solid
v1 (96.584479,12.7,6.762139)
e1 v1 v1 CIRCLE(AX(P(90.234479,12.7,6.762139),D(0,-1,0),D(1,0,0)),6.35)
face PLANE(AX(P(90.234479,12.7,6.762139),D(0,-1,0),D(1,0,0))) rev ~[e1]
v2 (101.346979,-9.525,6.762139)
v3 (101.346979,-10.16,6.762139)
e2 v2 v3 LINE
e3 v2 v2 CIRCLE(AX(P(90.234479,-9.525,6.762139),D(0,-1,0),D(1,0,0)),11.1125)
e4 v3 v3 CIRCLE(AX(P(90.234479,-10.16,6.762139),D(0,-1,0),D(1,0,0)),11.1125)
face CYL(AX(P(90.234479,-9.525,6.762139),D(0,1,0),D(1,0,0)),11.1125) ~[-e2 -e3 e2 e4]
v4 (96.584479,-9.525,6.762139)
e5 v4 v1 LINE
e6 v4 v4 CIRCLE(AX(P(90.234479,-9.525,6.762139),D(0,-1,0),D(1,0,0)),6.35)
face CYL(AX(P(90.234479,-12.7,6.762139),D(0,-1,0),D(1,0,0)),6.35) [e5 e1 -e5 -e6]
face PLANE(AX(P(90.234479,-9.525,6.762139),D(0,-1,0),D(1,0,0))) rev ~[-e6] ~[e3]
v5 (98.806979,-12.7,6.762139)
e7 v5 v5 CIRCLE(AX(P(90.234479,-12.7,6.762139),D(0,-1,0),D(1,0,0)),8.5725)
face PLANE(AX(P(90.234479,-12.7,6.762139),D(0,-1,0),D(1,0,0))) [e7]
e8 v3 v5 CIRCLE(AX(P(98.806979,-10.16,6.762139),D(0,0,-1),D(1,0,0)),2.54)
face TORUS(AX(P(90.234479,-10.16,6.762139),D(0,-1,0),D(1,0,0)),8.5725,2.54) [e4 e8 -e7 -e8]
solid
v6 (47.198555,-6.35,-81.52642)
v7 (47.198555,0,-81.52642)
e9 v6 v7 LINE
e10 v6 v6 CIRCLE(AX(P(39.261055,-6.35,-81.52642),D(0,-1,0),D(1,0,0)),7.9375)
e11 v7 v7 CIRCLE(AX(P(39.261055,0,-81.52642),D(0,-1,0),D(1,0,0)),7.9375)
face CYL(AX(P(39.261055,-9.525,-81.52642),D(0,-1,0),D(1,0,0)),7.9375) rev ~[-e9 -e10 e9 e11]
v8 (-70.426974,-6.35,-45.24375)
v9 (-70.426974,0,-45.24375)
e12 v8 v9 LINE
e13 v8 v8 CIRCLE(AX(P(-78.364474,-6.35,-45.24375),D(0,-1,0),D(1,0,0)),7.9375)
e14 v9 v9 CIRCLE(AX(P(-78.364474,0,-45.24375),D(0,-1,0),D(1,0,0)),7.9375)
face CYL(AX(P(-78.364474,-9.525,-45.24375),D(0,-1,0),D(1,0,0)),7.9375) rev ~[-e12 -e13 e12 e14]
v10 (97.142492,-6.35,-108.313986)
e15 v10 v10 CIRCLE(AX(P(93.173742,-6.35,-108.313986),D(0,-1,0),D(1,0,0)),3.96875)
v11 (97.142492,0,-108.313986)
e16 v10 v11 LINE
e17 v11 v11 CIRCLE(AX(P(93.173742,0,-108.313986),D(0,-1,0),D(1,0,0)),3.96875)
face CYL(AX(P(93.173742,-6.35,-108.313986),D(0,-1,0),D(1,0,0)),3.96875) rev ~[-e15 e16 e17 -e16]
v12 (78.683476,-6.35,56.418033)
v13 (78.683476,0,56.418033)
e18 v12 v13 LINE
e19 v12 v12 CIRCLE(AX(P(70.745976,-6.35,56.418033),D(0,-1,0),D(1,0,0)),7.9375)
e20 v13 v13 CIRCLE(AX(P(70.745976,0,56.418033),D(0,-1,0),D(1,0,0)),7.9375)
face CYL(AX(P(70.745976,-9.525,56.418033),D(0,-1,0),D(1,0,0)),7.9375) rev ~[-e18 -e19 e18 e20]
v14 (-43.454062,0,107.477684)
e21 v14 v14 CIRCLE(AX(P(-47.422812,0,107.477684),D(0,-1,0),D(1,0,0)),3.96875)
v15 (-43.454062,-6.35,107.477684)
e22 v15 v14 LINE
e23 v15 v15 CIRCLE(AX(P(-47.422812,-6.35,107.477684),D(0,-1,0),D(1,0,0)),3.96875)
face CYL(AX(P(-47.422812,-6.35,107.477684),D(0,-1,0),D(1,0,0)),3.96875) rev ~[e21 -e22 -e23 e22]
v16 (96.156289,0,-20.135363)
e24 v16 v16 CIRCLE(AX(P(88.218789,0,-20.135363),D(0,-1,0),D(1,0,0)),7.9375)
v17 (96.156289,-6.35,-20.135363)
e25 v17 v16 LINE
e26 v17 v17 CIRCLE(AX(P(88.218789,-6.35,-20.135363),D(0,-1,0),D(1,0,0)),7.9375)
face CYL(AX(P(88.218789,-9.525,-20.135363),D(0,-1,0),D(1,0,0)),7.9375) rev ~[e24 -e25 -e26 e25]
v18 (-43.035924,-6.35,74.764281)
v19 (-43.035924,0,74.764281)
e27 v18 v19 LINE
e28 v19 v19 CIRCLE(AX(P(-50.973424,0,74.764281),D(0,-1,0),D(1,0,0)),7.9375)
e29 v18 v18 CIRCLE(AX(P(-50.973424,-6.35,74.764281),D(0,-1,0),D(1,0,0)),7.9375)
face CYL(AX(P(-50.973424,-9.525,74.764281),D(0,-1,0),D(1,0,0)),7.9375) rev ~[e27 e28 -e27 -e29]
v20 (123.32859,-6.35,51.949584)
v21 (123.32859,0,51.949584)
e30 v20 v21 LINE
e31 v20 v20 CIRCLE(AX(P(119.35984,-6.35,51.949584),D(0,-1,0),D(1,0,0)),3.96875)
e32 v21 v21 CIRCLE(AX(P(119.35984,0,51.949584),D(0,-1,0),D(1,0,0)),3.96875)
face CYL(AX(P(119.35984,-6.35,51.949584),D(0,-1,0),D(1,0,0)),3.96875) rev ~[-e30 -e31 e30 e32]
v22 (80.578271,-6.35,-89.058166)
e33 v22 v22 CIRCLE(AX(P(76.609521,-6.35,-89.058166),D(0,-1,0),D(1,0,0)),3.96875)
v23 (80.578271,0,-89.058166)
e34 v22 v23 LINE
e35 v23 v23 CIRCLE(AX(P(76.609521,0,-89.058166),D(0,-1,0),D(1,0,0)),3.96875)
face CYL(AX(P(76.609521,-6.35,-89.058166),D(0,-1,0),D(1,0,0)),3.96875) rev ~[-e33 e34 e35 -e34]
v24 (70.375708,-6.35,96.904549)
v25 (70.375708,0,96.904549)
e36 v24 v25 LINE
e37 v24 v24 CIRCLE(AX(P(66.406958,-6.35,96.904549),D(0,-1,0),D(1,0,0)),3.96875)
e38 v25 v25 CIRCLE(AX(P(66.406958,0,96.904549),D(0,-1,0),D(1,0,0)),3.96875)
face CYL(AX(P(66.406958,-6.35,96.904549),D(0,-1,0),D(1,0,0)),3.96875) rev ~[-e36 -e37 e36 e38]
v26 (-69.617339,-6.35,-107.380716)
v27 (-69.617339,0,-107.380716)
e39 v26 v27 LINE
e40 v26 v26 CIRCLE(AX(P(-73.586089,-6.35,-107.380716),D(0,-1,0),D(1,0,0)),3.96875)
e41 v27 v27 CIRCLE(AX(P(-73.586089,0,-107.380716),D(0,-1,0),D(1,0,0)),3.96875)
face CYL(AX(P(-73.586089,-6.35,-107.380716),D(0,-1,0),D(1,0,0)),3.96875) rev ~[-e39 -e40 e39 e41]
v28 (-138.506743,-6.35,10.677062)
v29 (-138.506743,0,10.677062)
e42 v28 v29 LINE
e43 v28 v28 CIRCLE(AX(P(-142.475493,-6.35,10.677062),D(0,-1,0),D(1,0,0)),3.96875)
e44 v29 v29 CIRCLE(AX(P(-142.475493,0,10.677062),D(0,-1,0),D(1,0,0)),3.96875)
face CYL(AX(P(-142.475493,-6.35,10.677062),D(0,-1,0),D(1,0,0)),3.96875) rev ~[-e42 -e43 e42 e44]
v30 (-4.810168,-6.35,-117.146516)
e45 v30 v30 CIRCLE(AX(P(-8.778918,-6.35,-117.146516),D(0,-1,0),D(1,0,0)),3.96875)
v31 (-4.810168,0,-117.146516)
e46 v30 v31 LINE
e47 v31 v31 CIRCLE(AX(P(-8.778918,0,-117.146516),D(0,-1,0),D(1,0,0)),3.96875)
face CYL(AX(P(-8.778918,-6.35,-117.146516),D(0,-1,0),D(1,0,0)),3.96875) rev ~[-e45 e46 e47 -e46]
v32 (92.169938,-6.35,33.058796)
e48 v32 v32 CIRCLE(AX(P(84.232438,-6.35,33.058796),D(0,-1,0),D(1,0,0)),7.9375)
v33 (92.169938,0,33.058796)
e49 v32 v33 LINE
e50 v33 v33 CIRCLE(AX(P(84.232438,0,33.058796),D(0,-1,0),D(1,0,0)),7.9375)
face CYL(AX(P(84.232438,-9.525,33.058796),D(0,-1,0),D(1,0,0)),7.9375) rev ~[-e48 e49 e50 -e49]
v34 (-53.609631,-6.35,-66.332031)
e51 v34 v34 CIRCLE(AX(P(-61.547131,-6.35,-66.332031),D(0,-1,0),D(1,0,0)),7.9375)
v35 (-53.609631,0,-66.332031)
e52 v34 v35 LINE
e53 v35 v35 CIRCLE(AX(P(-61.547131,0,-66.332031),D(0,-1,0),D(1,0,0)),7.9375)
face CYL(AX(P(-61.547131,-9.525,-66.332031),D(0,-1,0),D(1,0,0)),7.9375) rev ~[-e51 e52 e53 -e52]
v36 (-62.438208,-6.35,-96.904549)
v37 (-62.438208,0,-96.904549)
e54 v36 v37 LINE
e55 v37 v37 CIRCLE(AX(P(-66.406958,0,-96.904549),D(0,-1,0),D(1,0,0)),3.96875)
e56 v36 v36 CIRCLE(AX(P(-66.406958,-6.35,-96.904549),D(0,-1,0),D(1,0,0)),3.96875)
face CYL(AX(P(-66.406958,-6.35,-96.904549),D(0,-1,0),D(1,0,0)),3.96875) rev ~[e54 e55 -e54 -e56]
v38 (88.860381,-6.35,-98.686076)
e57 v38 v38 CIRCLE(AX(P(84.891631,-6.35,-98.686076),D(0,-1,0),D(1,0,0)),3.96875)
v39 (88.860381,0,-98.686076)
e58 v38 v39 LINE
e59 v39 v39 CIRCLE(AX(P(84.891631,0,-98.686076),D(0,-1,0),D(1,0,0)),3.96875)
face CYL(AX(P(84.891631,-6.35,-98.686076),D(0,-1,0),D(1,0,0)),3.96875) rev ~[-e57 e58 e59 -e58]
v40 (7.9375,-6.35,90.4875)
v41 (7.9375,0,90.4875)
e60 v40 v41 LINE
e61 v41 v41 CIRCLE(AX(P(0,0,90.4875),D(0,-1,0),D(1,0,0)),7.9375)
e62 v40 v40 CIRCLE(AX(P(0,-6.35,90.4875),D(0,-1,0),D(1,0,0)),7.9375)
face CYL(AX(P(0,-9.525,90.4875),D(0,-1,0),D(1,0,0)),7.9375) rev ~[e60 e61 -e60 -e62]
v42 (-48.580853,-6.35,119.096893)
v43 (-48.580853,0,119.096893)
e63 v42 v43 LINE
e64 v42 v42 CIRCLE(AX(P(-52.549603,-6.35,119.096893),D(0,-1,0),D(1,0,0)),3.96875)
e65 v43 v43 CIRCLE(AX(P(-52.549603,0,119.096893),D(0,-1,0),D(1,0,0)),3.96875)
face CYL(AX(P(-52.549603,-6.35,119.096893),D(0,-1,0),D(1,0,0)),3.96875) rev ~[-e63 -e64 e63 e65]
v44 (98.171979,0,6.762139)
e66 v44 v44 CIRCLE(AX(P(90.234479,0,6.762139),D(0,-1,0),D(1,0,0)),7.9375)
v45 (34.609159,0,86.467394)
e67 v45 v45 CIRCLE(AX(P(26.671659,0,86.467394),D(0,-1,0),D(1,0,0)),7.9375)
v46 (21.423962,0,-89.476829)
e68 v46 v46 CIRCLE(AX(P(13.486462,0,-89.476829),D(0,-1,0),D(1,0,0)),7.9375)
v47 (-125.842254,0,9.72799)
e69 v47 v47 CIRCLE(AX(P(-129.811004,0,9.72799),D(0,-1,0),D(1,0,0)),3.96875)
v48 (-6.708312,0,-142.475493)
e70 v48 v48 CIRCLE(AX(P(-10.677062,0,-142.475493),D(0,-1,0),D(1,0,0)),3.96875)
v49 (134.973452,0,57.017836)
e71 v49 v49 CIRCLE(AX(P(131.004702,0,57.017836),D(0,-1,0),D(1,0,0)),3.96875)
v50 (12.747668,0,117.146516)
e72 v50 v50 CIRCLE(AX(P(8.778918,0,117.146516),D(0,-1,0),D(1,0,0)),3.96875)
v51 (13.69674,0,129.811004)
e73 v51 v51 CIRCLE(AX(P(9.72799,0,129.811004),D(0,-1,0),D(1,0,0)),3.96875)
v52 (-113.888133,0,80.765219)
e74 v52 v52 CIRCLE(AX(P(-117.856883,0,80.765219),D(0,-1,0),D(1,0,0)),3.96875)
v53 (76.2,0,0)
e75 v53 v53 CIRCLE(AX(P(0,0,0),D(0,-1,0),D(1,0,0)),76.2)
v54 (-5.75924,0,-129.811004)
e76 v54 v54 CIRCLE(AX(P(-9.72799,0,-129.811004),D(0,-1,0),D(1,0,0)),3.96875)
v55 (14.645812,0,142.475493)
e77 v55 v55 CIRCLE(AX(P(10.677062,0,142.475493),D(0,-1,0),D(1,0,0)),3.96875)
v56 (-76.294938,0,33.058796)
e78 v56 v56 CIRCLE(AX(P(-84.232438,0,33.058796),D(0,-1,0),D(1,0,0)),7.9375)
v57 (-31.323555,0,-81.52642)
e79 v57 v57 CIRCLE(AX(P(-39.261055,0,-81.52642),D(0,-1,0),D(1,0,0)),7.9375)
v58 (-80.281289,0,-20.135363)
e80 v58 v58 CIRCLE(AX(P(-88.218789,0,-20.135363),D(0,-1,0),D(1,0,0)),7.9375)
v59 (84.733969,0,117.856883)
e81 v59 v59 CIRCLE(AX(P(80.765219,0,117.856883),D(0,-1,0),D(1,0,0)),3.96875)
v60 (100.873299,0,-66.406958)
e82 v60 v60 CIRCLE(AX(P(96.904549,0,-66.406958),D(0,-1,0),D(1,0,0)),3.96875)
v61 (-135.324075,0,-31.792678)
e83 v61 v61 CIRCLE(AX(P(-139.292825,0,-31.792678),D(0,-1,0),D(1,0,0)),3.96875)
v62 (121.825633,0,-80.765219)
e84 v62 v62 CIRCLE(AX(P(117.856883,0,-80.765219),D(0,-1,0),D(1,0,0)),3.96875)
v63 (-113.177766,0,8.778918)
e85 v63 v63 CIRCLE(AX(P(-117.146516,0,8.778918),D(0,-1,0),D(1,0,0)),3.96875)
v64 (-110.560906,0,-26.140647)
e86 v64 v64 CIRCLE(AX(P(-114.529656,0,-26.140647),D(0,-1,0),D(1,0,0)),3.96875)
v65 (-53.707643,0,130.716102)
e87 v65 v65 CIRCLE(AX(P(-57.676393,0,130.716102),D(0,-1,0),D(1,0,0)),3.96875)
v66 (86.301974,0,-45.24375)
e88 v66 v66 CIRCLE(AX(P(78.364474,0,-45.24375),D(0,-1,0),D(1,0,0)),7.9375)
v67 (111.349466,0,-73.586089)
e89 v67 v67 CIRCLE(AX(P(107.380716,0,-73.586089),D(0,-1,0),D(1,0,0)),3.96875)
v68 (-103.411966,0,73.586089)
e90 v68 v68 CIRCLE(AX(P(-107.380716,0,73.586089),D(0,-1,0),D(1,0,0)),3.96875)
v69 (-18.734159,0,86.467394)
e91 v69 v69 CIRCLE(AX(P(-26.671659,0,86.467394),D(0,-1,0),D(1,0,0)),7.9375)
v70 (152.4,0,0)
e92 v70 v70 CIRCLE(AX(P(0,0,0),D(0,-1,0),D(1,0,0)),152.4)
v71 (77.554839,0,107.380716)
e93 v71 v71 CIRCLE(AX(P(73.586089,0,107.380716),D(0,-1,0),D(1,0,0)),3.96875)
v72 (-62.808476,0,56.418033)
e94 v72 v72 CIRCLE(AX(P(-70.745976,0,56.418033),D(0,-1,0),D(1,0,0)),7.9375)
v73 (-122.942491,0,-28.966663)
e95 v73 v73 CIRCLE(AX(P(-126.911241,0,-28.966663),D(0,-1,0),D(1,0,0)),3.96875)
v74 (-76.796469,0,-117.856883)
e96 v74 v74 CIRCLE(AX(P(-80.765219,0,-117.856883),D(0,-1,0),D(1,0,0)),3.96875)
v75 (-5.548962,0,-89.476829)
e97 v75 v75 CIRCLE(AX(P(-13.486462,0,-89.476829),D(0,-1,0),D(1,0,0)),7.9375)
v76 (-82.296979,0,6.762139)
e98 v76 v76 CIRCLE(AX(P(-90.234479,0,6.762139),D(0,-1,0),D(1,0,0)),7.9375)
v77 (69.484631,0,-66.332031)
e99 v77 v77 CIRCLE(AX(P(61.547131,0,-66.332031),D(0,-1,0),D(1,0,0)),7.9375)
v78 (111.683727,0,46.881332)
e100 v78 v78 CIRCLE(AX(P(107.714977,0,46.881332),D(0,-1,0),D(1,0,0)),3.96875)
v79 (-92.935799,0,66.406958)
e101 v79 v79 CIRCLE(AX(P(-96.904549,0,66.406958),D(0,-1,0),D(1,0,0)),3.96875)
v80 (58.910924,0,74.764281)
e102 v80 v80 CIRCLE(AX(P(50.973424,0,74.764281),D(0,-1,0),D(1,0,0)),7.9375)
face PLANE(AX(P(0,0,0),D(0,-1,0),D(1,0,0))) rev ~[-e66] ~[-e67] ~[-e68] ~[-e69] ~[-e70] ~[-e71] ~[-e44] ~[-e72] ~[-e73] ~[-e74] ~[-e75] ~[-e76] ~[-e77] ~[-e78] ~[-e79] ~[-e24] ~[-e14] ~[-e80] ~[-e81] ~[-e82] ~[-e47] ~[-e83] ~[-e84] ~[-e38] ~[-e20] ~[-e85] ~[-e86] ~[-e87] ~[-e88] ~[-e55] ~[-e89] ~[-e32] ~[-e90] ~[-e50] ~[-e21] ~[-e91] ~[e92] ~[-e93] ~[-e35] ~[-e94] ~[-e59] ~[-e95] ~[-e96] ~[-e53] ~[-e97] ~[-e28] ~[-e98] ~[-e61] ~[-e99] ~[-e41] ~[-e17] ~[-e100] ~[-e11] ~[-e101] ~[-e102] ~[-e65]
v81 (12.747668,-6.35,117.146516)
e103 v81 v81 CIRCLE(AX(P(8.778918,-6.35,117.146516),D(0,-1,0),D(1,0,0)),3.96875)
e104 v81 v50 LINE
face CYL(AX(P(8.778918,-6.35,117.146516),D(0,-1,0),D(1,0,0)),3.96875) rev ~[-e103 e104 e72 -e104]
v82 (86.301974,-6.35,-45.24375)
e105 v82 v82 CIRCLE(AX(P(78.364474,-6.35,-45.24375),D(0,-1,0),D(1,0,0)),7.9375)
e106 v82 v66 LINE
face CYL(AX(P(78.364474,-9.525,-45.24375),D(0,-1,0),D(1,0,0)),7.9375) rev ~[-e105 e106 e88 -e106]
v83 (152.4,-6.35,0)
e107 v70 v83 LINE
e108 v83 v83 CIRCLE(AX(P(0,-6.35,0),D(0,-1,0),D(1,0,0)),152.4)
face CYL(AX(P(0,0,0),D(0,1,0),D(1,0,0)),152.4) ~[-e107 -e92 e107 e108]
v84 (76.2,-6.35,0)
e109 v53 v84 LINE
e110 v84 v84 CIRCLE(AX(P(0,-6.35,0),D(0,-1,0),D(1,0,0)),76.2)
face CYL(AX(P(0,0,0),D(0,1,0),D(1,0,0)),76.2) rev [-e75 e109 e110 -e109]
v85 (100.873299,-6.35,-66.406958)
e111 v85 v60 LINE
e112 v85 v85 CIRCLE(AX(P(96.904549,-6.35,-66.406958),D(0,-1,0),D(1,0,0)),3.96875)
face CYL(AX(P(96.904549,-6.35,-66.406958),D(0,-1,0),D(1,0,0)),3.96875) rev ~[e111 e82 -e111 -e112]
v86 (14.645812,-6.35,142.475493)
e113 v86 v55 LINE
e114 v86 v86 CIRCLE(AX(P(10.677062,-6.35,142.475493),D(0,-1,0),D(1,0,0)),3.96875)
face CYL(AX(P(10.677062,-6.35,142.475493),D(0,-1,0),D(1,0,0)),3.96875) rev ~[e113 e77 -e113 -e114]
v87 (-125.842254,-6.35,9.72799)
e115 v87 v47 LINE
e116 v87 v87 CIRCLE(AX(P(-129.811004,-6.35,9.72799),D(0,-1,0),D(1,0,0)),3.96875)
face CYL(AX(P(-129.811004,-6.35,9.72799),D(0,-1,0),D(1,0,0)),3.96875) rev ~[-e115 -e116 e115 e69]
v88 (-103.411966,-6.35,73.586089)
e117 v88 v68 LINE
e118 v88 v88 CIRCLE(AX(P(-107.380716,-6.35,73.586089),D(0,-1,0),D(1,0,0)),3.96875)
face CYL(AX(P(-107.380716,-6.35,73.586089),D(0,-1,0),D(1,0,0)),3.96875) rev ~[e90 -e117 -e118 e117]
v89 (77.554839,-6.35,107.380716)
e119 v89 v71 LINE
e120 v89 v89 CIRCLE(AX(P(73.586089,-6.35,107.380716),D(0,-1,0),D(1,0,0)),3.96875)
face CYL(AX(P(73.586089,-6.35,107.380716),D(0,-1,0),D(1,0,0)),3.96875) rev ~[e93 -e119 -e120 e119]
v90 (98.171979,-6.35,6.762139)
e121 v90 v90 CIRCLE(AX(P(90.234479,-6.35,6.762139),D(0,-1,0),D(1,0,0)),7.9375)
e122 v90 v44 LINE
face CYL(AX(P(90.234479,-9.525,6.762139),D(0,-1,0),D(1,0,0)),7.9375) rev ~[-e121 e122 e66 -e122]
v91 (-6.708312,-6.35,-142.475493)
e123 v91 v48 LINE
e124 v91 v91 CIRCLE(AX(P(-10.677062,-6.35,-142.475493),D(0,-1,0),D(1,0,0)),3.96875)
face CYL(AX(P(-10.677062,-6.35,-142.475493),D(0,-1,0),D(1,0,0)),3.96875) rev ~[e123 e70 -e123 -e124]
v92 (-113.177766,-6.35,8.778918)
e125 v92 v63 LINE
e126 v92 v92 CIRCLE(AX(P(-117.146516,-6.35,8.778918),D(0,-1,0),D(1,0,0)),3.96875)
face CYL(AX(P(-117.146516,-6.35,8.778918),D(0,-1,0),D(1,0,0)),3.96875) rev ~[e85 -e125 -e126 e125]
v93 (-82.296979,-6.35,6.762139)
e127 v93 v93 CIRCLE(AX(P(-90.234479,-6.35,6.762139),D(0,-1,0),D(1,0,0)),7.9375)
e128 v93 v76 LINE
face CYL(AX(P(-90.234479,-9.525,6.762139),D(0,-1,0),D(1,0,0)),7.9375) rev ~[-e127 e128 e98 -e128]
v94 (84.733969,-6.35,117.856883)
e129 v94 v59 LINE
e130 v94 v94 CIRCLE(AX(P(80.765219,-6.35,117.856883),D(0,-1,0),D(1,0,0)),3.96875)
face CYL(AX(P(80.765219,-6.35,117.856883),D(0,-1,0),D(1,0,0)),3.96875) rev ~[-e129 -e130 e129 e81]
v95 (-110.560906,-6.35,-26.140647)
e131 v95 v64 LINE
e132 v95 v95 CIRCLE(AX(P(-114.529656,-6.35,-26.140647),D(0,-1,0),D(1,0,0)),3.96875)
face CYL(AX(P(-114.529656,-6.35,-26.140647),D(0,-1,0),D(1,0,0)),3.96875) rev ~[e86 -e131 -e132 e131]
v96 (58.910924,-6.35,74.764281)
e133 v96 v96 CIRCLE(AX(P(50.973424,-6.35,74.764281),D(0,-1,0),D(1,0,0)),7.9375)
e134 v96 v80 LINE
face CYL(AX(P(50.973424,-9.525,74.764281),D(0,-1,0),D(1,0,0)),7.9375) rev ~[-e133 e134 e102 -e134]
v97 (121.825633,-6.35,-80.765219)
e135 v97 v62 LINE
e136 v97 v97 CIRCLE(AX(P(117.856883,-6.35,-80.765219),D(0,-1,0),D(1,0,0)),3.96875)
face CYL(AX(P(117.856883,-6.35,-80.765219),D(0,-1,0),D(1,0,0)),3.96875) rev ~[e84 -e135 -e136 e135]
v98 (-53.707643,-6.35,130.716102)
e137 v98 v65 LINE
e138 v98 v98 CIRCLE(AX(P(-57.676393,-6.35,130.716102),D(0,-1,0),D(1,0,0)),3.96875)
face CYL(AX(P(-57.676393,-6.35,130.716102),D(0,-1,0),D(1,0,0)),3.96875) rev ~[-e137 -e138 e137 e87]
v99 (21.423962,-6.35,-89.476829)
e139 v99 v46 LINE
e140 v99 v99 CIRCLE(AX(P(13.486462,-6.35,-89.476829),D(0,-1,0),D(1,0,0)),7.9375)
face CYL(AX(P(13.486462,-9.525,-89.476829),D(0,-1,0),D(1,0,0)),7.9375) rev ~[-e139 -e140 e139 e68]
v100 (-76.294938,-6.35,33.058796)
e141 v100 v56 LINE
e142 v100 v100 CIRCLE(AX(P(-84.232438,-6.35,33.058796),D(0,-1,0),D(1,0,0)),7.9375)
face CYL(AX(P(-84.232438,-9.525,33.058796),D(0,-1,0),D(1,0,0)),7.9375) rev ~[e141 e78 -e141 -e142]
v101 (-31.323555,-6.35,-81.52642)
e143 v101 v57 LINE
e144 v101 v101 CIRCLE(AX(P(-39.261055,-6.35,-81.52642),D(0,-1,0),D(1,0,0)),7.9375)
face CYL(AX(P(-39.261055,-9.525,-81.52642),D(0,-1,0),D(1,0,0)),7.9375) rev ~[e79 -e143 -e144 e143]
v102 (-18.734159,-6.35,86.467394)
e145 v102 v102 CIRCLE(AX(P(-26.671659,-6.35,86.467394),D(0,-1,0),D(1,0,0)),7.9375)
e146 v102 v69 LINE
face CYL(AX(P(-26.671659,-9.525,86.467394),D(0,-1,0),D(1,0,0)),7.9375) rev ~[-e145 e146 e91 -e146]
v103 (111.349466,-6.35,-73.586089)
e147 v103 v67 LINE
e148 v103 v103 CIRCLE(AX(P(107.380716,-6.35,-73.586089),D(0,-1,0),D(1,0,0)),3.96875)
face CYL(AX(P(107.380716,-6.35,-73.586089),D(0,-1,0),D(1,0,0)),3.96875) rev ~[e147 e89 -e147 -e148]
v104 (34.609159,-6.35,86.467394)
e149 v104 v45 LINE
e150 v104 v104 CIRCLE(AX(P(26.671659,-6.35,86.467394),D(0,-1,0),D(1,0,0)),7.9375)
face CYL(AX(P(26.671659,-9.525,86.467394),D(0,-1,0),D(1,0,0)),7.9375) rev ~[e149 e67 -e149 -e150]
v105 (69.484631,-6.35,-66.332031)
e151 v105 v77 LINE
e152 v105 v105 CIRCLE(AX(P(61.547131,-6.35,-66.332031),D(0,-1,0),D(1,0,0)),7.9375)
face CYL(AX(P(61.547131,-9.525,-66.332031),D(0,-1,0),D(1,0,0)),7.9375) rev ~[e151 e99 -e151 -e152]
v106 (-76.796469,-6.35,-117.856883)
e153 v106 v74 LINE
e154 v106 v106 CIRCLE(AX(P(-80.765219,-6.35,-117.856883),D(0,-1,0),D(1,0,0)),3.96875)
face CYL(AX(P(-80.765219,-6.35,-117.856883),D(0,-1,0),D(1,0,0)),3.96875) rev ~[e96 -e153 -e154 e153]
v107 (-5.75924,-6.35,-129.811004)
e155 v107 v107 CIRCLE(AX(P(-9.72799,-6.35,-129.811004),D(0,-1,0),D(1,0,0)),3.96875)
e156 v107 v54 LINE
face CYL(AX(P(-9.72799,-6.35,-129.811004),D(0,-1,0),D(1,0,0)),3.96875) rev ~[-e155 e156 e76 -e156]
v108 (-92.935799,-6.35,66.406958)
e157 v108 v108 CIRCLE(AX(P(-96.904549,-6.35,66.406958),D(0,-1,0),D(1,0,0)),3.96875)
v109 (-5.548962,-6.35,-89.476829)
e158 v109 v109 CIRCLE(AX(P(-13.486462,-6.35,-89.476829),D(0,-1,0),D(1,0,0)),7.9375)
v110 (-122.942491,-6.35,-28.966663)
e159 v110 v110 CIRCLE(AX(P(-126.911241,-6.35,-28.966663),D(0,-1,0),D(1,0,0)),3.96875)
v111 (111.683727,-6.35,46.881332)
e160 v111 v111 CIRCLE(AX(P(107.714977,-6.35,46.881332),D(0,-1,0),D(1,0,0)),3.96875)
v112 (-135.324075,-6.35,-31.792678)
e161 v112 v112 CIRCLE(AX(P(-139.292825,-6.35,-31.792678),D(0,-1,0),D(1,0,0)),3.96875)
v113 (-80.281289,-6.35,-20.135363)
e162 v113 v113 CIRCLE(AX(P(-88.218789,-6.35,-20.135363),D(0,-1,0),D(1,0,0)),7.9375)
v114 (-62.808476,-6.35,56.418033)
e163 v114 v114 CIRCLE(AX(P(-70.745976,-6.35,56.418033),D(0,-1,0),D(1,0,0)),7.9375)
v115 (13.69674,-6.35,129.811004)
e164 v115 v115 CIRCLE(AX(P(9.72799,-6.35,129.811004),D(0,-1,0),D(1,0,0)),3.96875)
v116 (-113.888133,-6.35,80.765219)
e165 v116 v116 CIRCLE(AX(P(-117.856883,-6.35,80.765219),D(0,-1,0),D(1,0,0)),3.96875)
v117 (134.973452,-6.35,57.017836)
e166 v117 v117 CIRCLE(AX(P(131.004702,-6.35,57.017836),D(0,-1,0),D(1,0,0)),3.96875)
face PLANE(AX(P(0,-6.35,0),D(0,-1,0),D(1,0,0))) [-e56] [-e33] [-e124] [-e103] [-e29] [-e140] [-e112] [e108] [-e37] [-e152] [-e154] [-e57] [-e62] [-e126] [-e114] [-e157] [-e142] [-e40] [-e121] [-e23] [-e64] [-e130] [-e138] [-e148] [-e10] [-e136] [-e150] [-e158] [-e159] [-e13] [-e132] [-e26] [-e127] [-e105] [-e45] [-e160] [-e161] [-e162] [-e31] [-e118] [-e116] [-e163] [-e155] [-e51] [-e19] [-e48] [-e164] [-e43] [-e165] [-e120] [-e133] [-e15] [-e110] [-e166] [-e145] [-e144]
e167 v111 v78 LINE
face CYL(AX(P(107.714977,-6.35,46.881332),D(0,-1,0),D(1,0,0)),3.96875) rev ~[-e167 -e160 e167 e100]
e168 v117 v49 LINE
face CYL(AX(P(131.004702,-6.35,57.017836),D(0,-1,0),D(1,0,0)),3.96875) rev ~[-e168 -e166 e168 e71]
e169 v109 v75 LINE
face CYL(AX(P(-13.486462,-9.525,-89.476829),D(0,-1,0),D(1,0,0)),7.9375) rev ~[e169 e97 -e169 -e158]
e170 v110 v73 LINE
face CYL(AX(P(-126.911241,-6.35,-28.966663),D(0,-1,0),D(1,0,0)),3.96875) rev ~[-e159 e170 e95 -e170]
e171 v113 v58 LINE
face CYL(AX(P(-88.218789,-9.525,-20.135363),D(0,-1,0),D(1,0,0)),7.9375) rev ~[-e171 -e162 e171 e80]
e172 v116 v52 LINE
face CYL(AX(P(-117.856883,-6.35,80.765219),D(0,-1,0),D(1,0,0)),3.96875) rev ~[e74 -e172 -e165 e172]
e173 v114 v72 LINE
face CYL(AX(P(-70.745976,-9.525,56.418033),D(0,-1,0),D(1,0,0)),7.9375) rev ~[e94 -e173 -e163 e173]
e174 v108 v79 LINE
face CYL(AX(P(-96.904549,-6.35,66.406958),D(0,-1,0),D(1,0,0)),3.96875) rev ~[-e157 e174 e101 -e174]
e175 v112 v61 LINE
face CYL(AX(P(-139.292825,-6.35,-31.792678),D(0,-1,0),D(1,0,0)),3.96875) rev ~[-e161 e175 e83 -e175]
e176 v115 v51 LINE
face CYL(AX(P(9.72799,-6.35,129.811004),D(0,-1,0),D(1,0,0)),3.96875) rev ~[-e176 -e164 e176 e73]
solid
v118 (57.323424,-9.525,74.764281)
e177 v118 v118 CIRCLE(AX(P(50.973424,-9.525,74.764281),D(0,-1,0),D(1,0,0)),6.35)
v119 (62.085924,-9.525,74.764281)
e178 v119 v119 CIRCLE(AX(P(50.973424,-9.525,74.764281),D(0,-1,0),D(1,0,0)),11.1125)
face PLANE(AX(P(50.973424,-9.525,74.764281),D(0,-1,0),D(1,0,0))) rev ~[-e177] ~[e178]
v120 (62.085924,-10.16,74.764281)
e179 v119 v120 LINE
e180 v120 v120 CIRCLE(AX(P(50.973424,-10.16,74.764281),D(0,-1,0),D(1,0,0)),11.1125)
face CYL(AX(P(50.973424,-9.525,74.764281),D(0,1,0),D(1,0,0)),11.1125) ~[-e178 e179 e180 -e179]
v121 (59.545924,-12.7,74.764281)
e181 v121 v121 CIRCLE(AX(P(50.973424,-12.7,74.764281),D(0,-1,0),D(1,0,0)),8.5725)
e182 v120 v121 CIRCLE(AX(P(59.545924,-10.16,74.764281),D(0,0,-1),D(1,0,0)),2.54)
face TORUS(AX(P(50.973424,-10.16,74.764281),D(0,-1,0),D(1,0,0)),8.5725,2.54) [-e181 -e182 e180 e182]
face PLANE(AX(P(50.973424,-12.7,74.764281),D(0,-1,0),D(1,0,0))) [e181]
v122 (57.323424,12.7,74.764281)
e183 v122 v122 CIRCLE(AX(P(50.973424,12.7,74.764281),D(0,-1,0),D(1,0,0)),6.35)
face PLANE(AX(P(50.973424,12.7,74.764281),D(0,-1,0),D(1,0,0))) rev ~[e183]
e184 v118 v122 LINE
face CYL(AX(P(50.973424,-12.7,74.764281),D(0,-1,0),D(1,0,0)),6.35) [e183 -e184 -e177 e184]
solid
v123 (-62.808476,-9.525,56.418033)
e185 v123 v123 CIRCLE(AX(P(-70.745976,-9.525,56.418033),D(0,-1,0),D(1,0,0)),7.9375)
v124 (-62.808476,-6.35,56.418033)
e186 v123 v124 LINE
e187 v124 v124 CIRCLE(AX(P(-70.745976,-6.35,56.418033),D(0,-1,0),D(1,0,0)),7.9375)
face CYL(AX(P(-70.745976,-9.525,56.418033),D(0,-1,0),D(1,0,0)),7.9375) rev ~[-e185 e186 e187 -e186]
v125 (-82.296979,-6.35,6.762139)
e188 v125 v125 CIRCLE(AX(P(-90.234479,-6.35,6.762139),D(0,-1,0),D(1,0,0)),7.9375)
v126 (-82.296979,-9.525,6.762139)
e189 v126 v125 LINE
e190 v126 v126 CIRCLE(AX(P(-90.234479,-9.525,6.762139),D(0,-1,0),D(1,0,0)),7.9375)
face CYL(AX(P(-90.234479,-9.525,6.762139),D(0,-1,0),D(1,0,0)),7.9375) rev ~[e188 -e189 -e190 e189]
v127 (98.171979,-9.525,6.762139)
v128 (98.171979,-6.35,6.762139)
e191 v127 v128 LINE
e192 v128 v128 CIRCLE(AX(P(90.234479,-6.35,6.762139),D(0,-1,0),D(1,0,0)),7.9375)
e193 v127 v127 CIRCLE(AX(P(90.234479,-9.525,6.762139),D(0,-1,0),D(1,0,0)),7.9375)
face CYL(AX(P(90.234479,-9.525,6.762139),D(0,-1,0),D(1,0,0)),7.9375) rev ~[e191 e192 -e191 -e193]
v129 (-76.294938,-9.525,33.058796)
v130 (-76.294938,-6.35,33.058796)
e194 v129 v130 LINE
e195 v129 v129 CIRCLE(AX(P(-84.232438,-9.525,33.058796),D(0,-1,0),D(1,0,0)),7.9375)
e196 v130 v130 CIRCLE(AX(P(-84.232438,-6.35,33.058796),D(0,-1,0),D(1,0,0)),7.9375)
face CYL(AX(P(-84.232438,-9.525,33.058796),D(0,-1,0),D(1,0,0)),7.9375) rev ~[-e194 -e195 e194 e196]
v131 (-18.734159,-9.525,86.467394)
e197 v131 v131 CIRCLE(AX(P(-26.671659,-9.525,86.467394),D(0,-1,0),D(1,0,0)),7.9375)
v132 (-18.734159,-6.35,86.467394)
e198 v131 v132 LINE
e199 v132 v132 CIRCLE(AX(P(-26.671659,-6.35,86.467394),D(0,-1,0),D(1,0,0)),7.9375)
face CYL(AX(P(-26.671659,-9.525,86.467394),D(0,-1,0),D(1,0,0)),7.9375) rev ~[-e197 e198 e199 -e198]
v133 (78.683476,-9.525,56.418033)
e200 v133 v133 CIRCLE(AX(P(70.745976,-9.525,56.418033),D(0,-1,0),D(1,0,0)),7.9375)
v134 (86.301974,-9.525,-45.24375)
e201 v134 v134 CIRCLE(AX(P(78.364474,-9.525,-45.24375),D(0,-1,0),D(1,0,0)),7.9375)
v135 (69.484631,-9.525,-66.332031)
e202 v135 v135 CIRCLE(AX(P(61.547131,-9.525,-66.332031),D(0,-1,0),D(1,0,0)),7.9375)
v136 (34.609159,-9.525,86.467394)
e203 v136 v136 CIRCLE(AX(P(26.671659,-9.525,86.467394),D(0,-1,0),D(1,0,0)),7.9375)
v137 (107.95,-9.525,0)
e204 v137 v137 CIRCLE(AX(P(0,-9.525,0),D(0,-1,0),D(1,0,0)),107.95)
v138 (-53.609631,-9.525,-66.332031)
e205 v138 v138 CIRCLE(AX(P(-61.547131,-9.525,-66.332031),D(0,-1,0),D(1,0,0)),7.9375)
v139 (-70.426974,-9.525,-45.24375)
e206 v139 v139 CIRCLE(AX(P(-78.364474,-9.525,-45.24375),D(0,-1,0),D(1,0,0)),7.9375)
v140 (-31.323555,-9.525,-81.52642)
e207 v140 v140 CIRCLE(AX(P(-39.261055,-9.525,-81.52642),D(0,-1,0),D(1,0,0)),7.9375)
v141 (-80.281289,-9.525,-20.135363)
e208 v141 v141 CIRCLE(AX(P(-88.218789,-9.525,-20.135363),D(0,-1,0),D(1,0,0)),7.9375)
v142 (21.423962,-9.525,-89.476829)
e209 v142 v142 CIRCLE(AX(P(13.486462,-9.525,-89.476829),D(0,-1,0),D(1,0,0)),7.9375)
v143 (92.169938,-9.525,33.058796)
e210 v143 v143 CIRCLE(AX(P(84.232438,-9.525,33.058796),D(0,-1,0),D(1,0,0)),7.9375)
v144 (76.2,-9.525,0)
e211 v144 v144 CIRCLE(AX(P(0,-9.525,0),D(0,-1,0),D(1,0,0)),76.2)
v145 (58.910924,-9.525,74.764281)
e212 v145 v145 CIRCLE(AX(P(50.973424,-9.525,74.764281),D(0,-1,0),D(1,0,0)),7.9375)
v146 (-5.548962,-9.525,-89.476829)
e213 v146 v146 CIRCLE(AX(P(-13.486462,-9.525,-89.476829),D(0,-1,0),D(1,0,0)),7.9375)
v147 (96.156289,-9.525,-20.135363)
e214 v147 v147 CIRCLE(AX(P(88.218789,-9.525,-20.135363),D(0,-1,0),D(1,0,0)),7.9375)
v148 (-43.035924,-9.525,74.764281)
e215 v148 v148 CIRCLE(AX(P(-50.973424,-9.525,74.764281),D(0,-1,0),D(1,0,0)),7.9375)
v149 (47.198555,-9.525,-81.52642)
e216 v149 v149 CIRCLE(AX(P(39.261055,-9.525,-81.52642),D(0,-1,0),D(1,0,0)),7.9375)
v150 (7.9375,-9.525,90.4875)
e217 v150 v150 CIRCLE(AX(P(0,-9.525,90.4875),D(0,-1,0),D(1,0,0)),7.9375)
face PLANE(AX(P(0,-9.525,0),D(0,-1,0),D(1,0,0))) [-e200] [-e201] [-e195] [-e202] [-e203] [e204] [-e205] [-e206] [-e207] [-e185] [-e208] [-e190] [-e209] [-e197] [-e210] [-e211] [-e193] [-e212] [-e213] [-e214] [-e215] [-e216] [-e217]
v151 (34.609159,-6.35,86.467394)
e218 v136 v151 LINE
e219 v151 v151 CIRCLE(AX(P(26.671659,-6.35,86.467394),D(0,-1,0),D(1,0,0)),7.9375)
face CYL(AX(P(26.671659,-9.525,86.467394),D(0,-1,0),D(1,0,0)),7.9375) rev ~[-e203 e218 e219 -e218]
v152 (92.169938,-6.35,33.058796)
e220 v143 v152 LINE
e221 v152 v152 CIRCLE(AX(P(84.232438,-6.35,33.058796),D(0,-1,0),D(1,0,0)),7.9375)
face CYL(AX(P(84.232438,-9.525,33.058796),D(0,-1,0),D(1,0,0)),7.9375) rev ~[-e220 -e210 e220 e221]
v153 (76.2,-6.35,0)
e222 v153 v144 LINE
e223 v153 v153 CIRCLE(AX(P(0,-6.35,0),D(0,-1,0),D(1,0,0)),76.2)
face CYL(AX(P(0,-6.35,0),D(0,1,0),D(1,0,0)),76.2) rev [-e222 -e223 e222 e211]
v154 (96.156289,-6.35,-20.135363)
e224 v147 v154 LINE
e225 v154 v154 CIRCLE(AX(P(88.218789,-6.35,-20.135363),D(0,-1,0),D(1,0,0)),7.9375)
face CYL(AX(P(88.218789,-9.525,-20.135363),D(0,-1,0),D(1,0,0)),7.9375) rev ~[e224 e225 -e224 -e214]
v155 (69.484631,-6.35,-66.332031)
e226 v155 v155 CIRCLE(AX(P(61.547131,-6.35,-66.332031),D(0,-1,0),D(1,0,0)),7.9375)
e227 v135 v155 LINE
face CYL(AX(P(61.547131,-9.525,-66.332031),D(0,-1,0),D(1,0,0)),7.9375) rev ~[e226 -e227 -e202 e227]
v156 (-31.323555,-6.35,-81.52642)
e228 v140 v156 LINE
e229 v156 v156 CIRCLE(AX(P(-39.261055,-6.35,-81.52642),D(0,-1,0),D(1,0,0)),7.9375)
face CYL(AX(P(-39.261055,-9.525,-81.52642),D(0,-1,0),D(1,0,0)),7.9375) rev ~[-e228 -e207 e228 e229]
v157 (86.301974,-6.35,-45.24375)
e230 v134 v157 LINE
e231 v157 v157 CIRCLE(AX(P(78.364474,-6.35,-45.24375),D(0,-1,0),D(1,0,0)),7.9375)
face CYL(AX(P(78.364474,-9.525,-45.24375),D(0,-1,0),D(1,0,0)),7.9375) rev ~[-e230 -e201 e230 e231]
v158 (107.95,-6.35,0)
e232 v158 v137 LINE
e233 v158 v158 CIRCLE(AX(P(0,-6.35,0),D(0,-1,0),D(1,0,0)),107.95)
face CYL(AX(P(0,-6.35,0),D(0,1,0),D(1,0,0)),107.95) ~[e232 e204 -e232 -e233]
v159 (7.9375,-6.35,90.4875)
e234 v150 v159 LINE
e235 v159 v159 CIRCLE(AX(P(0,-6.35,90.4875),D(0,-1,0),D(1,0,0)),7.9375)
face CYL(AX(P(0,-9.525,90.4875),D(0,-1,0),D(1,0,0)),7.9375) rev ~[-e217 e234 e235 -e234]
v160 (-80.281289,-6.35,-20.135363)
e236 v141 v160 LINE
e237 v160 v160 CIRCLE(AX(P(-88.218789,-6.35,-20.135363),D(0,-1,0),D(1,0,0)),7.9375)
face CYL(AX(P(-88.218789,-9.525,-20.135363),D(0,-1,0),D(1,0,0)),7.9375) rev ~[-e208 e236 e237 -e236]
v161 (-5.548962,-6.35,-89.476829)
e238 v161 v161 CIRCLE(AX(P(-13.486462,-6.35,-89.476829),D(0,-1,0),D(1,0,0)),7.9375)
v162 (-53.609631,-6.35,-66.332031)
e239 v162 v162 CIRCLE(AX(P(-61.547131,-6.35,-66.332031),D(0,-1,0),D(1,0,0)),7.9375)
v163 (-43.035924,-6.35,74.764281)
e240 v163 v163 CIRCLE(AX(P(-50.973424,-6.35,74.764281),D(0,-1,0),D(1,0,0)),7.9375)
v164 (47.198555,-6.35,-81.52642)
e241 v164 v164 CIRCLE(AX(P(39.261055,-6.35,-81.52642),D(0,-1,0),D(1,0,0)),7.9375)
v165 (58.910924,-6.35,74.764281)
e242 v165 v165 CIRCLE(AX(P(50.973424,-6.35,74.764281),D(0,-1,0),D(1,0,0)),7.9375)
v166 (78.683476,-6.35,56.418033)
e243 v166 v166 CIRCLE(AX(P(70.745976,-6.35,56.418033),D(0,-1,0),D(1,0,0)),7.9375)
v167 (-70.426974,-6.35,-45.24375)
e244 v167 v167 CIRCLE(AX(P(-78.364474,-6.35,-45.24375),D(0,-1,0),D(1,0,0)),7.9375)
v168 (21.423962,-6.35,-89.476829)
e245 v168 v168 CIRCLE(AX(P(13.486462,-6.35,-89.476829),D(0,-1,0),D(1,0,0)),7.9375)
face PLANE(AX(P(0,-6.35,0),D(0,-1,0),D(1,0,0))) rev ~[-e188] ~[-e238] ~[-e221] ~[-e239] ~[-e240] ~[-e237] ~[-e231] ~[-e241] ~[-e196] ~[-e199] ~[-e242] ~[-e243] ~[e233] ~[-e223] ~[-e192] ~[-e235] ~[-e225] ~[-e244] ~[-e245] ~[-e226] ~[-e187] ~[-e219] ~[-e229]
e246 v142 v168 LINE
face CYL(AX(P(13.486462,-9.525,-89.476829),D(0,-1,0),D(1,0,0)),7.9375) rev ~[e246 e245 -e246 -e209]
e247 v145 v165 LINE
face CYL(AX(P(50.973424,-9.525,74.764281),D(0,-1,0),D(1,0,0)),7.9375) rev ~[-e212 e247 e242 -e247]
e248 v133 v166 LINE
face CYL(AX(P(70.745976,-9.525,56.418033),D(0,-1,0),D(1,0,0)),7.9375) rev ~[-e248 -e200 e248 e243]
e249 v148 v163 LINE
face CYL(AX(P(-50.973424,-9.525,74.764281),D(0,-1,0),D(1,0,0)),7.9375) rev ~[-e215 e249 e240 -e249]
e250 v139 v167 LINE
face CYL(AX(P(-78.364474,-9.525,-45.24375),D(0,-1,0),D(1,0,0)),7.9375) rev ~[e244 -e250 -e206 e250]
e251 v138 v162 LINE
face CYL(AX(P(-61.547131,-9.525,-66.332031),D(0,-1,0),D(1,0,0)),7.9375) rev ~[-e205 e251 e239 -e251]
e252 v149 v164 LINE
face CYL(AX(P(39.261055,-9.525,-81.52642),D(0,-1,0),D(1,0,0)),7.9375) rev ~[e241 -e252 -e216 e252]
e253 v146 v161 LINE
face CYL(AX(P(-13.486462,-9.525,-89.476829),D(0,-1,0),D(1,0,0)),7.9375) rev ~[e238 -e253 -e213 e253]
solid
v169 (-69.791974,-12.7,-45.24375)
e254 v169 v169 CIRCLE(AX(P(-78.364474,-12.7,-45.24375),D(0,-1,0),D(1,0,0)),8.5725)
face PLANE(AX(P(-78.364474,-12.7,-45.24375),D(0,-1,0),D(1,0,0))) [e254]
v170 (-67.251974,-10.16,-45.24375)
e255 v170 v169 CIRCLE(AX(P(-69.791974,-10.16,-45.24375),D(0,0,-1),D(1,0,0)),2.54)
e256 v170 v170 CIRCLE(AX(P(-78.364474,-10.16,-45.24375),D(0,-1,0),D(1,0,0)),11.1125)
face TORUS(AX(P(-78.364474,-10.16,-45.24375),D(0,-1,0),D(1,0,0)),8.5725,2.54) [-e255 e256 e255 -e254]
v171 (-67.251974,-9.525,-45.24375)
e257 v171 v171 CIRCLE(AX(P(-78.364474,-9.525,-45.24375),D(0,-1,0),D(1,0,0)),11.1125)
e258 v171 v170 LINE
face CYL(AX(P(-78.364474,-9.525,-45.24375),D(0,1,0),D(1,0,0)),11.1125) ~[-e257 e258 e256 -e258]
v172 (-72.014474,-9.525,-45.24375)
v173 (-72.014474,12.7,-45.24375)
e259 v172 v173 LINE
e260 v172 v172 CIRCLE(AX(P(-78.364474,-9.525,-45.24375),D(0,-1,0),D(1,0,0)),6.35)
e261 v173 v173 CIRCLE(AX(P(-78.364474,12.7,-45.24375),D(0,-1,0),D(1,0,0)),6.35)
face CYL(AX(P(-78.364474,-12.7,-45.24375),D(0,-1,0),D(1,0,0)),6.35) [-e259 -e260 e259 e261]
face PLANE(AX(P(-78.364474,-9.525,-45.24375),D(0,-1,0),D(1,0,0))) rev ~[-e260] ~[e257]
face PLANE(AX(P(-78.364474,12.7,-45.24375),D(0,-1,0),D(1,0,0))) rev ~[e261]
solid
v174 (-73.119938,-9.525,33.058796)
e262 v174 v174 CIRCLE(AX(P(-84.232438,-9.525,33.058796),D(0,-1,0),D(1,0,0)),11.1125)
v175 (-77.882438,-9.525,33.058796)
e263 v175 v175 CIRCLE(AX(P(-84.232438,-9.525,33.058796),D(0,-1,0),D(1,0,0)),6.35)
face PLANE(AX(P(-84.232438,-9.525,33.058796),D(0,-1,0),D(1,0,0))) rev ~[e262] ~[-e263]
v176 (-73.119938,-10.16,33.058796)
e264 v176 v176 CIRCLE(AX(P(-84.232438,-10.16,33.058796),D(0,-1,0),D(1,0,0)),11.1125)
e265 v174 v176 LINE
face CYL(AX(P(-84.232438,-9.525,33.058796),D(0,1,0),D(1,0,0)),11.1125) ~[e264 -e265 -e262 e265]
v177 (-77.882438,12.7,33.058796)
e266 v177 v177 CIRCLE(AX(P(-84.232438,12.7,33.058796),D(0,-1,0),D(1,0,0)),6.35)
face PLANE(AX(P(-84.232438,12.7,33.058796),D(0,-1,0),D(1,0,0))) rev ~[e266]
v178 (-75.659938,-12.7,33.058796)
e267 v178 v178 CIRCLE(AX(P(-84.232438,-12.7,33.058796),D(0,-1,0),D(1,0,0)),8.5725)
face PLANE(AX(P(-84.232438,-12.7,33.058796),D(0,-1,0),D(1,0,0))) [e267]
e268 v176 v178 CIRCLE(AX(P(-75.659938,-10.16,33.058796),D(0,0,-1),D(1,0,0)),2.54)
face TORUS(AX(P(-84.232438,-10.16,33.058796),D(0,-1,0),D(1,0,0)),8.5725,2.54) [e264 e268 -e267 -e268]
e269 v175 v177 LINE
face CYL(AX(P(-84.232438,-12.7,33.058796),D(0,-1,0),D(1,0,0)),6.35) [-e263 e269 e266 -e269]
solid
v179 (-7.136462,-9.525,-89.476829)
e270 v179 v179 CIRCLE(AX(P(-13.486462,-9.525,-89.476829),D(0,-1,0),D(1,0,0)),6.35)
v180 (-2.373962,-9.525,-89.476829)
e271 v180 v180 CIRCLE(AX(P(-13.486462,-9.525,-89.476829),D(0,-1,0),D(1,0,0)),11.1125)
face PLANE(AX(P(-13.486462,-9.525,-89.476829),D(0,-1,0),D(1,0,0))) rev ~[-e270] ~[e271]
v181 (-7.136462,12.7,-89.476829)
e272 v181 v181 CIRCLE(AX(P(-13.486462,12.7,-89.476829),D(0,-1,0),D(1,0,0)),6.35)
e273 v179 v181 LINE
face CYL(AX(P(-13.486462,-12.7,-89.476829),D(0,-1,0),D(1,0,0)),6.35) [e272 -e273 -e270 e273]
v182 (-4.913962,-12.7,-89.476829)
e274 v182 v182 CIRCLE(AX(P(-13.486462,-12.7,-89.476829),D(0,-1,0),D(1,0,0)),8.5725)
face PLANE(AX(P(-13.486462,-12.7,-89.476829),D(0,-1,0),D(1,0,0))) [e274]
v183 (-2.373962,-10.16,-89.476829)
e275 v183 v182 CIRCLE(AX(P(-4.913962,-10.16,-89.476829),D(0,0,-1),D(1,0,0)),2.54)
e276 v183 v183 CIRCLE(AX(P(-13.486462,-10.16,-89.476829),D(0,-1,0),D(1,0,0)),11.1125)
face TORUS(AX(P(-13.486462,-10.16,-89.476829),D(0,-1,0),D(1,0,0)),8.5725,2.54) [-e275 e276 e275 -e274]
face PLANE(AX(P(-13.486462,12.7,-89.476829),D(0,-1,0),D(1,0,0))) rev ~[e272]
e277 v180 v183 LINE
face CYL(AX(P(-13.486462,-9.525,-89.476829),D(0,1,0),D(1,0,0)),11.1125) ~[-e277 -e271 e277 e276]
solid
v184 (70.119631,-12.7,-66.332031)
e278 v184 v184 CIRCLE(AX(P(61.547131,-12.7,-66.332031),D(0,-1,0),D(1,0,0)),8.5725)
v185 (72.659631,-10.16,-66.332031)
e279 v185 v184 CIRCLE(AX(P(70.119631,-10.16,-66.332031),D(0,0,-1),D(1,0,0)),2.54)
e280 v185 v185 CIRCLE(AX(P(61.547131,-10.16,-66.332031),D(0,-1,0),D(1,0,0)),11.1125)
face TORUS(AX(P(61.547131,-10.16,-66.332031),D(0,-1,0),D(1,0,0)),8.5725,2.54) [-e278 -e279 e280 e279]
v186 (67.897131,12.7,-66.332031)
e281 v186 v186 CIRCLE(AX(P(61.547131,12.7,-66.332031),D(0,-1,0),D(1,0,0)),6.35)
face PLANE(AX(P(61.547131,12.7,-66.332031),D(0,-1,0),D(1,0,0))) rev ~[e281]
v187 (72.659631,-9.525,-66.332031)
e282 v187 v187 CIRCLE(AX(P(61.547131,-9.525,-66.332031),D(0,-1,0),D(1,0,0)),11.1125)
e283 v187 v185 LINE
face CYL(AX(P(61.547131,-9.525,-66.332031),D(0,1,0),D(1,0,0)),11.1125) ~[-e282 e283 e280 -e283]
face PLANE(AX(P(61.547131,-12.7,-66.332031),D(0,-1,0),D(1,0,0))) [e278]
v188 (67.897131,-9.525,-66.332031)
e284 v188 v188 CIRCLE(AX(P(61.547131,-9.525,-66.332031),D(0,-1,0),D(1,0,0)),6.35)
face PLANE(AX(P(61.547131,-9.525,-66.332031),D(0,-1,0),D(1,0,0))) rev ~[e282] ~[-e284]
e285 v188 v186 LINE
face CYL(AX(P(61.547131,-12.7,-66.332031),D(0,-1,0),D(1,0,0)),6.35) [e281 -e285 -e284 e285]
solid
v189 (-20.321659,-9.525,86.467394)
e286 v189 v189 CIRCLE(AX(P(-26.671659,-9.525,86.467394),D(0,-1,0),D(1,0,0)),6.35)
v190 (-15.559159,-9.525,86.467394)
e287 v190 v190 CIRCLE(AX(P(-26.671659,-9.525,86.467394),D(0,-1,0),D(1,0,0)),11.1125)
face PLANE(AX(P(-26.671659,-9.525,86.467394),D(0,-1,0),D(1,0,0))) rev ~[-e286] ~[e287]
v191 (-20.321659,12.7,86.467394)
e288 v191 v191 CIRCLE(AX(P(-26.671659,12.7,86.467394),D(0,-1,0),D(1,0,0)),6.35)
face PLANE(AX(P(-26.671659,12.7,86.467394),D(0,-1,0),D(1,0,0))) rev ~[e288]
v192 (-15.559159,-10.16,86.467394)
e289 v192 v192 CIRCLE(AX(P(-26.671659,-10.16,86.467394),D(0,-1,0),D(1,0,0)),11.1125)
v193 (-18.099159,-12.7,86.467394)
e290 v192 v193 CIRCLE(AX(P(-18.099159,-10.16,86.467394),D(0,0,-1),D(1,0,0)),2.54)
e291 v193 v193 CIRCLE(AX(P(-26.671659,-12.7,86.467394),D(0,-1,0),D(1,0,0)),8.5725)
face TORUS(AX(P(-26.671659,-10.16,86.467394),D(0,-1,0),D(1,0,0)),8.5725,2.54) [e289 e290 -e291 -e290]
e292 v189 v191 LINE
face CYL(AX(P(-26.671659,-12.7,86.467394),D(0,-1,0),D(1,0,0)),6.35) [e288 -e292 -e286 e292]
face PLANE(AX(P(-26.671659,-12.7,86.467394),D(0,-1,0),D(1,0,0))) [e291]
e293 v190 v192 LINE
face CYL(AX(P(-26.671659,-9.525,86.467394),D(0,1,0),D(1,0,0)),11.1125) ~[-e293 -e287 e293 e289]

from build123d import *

# Parameters (mm, degrees)
F0_R      = 152.4
F0_R_2    = 76.2
F1_DEPTH  = 6.35
F2_R      = 107.95
F2_R_2    = 76.2
F3_DEPTH  = 3.175
F4_R      = 7.9375
F5_DEPTH  = 9.526
F6_R      = 11.1125
F7_DEPTH  = 3.175
F9_R      = 2.54
F10_R     = 6.35
F11_DEPTH = 25.4
F12_R     = 3.96875
F13_DEPTH = 6.35


with BuildPart() as f1:
    # F0 (on Front) → F1 (new body)
    with BuildSketch(Plane.XZ):
        Circle(F0_R)
        Circle(F0_R_2, mode=Mode.SUBTRACT)
    extrude(amount=F1_DEPTH)


with BuildPart() as f3:
    # F2 (on face) → F3 (new body)
    with BuildSketch(Plane.XZ.offset(6.35)):
        Circle(F2_R)
        Circle(F2_R_2, mode=Mode.SUBTRACT)
    extrude(amount=F3_DEPTH)


with BuildPart() as f5_tool:
    # F4 (on face) → F5 (new body, through all)
    with BuildSketch(Plane.XZ.offset(9.525)):
        with Locations((0, 90.4875)):
            Circle(F4_R)
        with Locations((-26.6716588445, 86.4673942636)):
            Circle(F4_R)
        with Locations((-50.973423754, 74.7642810909)):
            Circle(F4_R)
        with Locations((-70.7459762698, 56.4180334457)):
            Circle(F4_R)
        with Locations((-84.2324383304, 33.0587959424)):
            Circle(F4_R)
        with Locations((-90.2344785974, 6.7621393434)):
            Circle(F4_R)
        with Locations((-88.2187894536, -20.1353630114)):
            Circle(F4_R)
        with Locations((-78.3644737249, -45.24375)):
            Circle(F4_R)
        with Locations((-61.547130609, -66.3320312522)):
            Circle(F4_R)
        with Locations((-39.2610548434, -81.5264204343)):
            Circle(F4_R)
        with Locations((-13.4864620606, -89.476829388)):
            Circle(F4_R)
        with Locations((13.4864620606, -89.476829388)):
            Circle(F4_R)
        with Locations((39.2610548434, -81.5264204343)):
            Circle(F4_R)
        with Locations((61.547130609, -66.3320312522)):
            Circle(F4_R)
        with Locations((78.3644737249, -45.24375)):
            Circle(F4_R)
        with Locations((88.2187894536, -20.1353630114)):
            Circle(F4_R)
        with Locations((90.2344785974, 6.7621393434)):
            Circle(F4_R)
        with Locations((84.2324383304, 33.0587959424)):
            Circle(F4_R)
        with Locations((70.7459762698, 56.4180334457)):
            Circle(F4_R)
        with Locations((50.973423754, 74.7642810909)):
            Circle(F4_R)
        with Locations((26.6716588445, 86.4673942636)):
            Circle(F4_R)
    extrude(amount=-F5_DEPTH)


with BuildPart() as f1_1:
    add(f1.part)

    # F5: cut by f5_tool
    add(f5_tool.part, mode=Mode.SUBTRACT)

    # F12 (on face) → F13 (cut, through all)
    with BuildSketch(Plane.XZ.offset(6.35)):
        with Locations((10.6770621212, 142.4754925223)):
            Circle(F12_R)
        with Locations((9.7279899326, 129.8110042981)):
            Circle(F12_R)
        with Locations((8.7789177441, 117.1465160739)):
            Circle(F12_R)
        with Locations((-47.4228124064, 107.4776836765)):
            Circle(F12_R)
        with Locations((-52.5496029368, 119.0968927226)):
            Circle(F12_R)
        with Locations((-57.6763934672, 130.7161017687)):
            Circle(F12_R)
        with Locations((-96.9045485468, 66.4069581892)):
            Circle(F12_R)
        with Locations((-107.3807159573, 73.5860888042)):
            Circle(F12_R)
        with Locations((-117.8568833678, 80.7652194193)):
            Circle(F12_R)
        with Locations((-142.4754925223, 10.6770621212)):
            Circle(F12_R)
        with Locations((-129.8110042981, 9.7279899326)):
            Circle(F12_R)
        with Locations((-117.1465160739, 8.7789177441)):
            Circle(F12_R)
        with Locations((-139.292825453, -31.792678439)):
            Circle(F12_R)
        with Locations((-126.9112409683, -28.9666625778)):
            Circle(F12_R)
        with Locations((-114.5296564836, -26.1406467165)):
            Circle(F12_R)
        with Locations((-80.7652194193, -117.8568833678)):
            Circle(F12_R)
        with Locations((-73.5860888042, -107.3807159573)):
            Circle(F12_R)
        with Locations((-66.4069581892, -96.9045485468)):
            Circle(F12_R)
        with Locations((-10.6770621212, -142.4754925223)):
            Circle(F12_R)
        with Locations((-9.7279899326, -129.8110042981)):
            Circle(F12_R)
        with Locations((-8.7789177441, -117.1465160739)):
            Circle(F12_R)
        with Locations((93.1737415452, -108.3139857612)):
            Circle(F12_R)
        with Locations((84.8916311856, -98.6860759157)):
            Circle(F12_R)
        with Locations((76.6095208261, -89.0581660703)):
            Circle(F12_R)
        with Locations((117.8568833678, -80.7652194193)):
            Circle(F12_R)
        with Locations((107.3807159573, -73.5860888042)):
            Circle(F12_R)
        with Locations((96.9045485468, -66.4069581892)):
            Circle(F12_R)
        with Locations((107.7149774809, 46.8813315861)):
            Circle(F12_R)
        with Locations((119.3598399113, 51.9495836495)):
            Circle(F12_R)
        with Locations((131.0047023416, 57.0178357129)):
            Circle(F12_R)
        with Locations((66.4069581892, 96.9045485468)):
            Circle(F12_R)
        with Locations((73.5860888042, 107.3807159573)):
            Circle(F12_R)
        with Locations((80.7652194193, 117.8568833678)):
            Circle(F12_R)
    extrude(amount=-F13_DEPTH, mode=Mode.SUBTRACT)


with BuildPart() as f3_1:
    add(f3.part)

    # F5: cut by f5_tool
    add(f5_tool.part, mode=Mode.SUBTRACT)


with BuildPart() as f7:
    # F6 (on face) → F7 (new body)
    with BuildSketch(Plane.XZ.offset(9.525)):
        with Locations((-13.4864620606, -89.476829388)):
            Circle(F6_R)
        with Locations((-78.3644737249, -45.24375)):
            Circle(F6_R)
        with Locations((-84.2324383304, 33.0587959424)):
            Circle(F6_R)
        with Locations((-26.6716588445, 86.4673942636)):
            Circle(F6_R)
        with Locations((50.973423754, 74.7642810909)):
            Circle(F6_R)
        with Locations((90.2344785974, 6.7621393434)):
            Circle(F6_R)
        with Locations((61.547130609, -66.3320312522)):
            Circle(F6_R)
    extrude(amount=F7_DEPTH)

    # F9
    f9_edges = [f7.edges().sort_by_distance(p)[0] for p in [
        (50.434631, -12.7, -66.332031),
        (-24.598962, -12.7, -89.476829),
        (-89.476974, -12.7, -45.24375),
        (-95.344938, -12.7, 33.058796),
        (-37.784159, -12.7, 86.467394),
        (39.860924, -12.7, 74.764281),
        (79.121979, -12.7, 6.762139),
    ]]
    fillet(f9_edges, radius=F9_R)

    # F10 (on face) → F11 (join)
    with BuildSketch(Plane.XZ.offset(12.7)):
        with Locations((-26.6716588445, 86.4673942636)):
            Circle(F10_R)
        with Locations((-84.2324383304, 33.0587959424)):
            Circle(F10_R)
        with Locations((-78.3644737249, -45.24375)):
            Circle(F10_R)
        with Locations((-13.4864620606, -89.476829388)):
            Circle(F10_R)
        with Locations((61.547130609, -66.3320312522)):
            Circle(F10_R)
        with Locations((90.2344785974, 6.7621393434)):
            Circle(F10_R)
        with Locations((50.973423754, 74.7642810909)):
            Circle(F10_R)
    extrude(amount=-F11_DEPTH)


solid = Compound([f1_1.part, f3_1.part, f7.part])
